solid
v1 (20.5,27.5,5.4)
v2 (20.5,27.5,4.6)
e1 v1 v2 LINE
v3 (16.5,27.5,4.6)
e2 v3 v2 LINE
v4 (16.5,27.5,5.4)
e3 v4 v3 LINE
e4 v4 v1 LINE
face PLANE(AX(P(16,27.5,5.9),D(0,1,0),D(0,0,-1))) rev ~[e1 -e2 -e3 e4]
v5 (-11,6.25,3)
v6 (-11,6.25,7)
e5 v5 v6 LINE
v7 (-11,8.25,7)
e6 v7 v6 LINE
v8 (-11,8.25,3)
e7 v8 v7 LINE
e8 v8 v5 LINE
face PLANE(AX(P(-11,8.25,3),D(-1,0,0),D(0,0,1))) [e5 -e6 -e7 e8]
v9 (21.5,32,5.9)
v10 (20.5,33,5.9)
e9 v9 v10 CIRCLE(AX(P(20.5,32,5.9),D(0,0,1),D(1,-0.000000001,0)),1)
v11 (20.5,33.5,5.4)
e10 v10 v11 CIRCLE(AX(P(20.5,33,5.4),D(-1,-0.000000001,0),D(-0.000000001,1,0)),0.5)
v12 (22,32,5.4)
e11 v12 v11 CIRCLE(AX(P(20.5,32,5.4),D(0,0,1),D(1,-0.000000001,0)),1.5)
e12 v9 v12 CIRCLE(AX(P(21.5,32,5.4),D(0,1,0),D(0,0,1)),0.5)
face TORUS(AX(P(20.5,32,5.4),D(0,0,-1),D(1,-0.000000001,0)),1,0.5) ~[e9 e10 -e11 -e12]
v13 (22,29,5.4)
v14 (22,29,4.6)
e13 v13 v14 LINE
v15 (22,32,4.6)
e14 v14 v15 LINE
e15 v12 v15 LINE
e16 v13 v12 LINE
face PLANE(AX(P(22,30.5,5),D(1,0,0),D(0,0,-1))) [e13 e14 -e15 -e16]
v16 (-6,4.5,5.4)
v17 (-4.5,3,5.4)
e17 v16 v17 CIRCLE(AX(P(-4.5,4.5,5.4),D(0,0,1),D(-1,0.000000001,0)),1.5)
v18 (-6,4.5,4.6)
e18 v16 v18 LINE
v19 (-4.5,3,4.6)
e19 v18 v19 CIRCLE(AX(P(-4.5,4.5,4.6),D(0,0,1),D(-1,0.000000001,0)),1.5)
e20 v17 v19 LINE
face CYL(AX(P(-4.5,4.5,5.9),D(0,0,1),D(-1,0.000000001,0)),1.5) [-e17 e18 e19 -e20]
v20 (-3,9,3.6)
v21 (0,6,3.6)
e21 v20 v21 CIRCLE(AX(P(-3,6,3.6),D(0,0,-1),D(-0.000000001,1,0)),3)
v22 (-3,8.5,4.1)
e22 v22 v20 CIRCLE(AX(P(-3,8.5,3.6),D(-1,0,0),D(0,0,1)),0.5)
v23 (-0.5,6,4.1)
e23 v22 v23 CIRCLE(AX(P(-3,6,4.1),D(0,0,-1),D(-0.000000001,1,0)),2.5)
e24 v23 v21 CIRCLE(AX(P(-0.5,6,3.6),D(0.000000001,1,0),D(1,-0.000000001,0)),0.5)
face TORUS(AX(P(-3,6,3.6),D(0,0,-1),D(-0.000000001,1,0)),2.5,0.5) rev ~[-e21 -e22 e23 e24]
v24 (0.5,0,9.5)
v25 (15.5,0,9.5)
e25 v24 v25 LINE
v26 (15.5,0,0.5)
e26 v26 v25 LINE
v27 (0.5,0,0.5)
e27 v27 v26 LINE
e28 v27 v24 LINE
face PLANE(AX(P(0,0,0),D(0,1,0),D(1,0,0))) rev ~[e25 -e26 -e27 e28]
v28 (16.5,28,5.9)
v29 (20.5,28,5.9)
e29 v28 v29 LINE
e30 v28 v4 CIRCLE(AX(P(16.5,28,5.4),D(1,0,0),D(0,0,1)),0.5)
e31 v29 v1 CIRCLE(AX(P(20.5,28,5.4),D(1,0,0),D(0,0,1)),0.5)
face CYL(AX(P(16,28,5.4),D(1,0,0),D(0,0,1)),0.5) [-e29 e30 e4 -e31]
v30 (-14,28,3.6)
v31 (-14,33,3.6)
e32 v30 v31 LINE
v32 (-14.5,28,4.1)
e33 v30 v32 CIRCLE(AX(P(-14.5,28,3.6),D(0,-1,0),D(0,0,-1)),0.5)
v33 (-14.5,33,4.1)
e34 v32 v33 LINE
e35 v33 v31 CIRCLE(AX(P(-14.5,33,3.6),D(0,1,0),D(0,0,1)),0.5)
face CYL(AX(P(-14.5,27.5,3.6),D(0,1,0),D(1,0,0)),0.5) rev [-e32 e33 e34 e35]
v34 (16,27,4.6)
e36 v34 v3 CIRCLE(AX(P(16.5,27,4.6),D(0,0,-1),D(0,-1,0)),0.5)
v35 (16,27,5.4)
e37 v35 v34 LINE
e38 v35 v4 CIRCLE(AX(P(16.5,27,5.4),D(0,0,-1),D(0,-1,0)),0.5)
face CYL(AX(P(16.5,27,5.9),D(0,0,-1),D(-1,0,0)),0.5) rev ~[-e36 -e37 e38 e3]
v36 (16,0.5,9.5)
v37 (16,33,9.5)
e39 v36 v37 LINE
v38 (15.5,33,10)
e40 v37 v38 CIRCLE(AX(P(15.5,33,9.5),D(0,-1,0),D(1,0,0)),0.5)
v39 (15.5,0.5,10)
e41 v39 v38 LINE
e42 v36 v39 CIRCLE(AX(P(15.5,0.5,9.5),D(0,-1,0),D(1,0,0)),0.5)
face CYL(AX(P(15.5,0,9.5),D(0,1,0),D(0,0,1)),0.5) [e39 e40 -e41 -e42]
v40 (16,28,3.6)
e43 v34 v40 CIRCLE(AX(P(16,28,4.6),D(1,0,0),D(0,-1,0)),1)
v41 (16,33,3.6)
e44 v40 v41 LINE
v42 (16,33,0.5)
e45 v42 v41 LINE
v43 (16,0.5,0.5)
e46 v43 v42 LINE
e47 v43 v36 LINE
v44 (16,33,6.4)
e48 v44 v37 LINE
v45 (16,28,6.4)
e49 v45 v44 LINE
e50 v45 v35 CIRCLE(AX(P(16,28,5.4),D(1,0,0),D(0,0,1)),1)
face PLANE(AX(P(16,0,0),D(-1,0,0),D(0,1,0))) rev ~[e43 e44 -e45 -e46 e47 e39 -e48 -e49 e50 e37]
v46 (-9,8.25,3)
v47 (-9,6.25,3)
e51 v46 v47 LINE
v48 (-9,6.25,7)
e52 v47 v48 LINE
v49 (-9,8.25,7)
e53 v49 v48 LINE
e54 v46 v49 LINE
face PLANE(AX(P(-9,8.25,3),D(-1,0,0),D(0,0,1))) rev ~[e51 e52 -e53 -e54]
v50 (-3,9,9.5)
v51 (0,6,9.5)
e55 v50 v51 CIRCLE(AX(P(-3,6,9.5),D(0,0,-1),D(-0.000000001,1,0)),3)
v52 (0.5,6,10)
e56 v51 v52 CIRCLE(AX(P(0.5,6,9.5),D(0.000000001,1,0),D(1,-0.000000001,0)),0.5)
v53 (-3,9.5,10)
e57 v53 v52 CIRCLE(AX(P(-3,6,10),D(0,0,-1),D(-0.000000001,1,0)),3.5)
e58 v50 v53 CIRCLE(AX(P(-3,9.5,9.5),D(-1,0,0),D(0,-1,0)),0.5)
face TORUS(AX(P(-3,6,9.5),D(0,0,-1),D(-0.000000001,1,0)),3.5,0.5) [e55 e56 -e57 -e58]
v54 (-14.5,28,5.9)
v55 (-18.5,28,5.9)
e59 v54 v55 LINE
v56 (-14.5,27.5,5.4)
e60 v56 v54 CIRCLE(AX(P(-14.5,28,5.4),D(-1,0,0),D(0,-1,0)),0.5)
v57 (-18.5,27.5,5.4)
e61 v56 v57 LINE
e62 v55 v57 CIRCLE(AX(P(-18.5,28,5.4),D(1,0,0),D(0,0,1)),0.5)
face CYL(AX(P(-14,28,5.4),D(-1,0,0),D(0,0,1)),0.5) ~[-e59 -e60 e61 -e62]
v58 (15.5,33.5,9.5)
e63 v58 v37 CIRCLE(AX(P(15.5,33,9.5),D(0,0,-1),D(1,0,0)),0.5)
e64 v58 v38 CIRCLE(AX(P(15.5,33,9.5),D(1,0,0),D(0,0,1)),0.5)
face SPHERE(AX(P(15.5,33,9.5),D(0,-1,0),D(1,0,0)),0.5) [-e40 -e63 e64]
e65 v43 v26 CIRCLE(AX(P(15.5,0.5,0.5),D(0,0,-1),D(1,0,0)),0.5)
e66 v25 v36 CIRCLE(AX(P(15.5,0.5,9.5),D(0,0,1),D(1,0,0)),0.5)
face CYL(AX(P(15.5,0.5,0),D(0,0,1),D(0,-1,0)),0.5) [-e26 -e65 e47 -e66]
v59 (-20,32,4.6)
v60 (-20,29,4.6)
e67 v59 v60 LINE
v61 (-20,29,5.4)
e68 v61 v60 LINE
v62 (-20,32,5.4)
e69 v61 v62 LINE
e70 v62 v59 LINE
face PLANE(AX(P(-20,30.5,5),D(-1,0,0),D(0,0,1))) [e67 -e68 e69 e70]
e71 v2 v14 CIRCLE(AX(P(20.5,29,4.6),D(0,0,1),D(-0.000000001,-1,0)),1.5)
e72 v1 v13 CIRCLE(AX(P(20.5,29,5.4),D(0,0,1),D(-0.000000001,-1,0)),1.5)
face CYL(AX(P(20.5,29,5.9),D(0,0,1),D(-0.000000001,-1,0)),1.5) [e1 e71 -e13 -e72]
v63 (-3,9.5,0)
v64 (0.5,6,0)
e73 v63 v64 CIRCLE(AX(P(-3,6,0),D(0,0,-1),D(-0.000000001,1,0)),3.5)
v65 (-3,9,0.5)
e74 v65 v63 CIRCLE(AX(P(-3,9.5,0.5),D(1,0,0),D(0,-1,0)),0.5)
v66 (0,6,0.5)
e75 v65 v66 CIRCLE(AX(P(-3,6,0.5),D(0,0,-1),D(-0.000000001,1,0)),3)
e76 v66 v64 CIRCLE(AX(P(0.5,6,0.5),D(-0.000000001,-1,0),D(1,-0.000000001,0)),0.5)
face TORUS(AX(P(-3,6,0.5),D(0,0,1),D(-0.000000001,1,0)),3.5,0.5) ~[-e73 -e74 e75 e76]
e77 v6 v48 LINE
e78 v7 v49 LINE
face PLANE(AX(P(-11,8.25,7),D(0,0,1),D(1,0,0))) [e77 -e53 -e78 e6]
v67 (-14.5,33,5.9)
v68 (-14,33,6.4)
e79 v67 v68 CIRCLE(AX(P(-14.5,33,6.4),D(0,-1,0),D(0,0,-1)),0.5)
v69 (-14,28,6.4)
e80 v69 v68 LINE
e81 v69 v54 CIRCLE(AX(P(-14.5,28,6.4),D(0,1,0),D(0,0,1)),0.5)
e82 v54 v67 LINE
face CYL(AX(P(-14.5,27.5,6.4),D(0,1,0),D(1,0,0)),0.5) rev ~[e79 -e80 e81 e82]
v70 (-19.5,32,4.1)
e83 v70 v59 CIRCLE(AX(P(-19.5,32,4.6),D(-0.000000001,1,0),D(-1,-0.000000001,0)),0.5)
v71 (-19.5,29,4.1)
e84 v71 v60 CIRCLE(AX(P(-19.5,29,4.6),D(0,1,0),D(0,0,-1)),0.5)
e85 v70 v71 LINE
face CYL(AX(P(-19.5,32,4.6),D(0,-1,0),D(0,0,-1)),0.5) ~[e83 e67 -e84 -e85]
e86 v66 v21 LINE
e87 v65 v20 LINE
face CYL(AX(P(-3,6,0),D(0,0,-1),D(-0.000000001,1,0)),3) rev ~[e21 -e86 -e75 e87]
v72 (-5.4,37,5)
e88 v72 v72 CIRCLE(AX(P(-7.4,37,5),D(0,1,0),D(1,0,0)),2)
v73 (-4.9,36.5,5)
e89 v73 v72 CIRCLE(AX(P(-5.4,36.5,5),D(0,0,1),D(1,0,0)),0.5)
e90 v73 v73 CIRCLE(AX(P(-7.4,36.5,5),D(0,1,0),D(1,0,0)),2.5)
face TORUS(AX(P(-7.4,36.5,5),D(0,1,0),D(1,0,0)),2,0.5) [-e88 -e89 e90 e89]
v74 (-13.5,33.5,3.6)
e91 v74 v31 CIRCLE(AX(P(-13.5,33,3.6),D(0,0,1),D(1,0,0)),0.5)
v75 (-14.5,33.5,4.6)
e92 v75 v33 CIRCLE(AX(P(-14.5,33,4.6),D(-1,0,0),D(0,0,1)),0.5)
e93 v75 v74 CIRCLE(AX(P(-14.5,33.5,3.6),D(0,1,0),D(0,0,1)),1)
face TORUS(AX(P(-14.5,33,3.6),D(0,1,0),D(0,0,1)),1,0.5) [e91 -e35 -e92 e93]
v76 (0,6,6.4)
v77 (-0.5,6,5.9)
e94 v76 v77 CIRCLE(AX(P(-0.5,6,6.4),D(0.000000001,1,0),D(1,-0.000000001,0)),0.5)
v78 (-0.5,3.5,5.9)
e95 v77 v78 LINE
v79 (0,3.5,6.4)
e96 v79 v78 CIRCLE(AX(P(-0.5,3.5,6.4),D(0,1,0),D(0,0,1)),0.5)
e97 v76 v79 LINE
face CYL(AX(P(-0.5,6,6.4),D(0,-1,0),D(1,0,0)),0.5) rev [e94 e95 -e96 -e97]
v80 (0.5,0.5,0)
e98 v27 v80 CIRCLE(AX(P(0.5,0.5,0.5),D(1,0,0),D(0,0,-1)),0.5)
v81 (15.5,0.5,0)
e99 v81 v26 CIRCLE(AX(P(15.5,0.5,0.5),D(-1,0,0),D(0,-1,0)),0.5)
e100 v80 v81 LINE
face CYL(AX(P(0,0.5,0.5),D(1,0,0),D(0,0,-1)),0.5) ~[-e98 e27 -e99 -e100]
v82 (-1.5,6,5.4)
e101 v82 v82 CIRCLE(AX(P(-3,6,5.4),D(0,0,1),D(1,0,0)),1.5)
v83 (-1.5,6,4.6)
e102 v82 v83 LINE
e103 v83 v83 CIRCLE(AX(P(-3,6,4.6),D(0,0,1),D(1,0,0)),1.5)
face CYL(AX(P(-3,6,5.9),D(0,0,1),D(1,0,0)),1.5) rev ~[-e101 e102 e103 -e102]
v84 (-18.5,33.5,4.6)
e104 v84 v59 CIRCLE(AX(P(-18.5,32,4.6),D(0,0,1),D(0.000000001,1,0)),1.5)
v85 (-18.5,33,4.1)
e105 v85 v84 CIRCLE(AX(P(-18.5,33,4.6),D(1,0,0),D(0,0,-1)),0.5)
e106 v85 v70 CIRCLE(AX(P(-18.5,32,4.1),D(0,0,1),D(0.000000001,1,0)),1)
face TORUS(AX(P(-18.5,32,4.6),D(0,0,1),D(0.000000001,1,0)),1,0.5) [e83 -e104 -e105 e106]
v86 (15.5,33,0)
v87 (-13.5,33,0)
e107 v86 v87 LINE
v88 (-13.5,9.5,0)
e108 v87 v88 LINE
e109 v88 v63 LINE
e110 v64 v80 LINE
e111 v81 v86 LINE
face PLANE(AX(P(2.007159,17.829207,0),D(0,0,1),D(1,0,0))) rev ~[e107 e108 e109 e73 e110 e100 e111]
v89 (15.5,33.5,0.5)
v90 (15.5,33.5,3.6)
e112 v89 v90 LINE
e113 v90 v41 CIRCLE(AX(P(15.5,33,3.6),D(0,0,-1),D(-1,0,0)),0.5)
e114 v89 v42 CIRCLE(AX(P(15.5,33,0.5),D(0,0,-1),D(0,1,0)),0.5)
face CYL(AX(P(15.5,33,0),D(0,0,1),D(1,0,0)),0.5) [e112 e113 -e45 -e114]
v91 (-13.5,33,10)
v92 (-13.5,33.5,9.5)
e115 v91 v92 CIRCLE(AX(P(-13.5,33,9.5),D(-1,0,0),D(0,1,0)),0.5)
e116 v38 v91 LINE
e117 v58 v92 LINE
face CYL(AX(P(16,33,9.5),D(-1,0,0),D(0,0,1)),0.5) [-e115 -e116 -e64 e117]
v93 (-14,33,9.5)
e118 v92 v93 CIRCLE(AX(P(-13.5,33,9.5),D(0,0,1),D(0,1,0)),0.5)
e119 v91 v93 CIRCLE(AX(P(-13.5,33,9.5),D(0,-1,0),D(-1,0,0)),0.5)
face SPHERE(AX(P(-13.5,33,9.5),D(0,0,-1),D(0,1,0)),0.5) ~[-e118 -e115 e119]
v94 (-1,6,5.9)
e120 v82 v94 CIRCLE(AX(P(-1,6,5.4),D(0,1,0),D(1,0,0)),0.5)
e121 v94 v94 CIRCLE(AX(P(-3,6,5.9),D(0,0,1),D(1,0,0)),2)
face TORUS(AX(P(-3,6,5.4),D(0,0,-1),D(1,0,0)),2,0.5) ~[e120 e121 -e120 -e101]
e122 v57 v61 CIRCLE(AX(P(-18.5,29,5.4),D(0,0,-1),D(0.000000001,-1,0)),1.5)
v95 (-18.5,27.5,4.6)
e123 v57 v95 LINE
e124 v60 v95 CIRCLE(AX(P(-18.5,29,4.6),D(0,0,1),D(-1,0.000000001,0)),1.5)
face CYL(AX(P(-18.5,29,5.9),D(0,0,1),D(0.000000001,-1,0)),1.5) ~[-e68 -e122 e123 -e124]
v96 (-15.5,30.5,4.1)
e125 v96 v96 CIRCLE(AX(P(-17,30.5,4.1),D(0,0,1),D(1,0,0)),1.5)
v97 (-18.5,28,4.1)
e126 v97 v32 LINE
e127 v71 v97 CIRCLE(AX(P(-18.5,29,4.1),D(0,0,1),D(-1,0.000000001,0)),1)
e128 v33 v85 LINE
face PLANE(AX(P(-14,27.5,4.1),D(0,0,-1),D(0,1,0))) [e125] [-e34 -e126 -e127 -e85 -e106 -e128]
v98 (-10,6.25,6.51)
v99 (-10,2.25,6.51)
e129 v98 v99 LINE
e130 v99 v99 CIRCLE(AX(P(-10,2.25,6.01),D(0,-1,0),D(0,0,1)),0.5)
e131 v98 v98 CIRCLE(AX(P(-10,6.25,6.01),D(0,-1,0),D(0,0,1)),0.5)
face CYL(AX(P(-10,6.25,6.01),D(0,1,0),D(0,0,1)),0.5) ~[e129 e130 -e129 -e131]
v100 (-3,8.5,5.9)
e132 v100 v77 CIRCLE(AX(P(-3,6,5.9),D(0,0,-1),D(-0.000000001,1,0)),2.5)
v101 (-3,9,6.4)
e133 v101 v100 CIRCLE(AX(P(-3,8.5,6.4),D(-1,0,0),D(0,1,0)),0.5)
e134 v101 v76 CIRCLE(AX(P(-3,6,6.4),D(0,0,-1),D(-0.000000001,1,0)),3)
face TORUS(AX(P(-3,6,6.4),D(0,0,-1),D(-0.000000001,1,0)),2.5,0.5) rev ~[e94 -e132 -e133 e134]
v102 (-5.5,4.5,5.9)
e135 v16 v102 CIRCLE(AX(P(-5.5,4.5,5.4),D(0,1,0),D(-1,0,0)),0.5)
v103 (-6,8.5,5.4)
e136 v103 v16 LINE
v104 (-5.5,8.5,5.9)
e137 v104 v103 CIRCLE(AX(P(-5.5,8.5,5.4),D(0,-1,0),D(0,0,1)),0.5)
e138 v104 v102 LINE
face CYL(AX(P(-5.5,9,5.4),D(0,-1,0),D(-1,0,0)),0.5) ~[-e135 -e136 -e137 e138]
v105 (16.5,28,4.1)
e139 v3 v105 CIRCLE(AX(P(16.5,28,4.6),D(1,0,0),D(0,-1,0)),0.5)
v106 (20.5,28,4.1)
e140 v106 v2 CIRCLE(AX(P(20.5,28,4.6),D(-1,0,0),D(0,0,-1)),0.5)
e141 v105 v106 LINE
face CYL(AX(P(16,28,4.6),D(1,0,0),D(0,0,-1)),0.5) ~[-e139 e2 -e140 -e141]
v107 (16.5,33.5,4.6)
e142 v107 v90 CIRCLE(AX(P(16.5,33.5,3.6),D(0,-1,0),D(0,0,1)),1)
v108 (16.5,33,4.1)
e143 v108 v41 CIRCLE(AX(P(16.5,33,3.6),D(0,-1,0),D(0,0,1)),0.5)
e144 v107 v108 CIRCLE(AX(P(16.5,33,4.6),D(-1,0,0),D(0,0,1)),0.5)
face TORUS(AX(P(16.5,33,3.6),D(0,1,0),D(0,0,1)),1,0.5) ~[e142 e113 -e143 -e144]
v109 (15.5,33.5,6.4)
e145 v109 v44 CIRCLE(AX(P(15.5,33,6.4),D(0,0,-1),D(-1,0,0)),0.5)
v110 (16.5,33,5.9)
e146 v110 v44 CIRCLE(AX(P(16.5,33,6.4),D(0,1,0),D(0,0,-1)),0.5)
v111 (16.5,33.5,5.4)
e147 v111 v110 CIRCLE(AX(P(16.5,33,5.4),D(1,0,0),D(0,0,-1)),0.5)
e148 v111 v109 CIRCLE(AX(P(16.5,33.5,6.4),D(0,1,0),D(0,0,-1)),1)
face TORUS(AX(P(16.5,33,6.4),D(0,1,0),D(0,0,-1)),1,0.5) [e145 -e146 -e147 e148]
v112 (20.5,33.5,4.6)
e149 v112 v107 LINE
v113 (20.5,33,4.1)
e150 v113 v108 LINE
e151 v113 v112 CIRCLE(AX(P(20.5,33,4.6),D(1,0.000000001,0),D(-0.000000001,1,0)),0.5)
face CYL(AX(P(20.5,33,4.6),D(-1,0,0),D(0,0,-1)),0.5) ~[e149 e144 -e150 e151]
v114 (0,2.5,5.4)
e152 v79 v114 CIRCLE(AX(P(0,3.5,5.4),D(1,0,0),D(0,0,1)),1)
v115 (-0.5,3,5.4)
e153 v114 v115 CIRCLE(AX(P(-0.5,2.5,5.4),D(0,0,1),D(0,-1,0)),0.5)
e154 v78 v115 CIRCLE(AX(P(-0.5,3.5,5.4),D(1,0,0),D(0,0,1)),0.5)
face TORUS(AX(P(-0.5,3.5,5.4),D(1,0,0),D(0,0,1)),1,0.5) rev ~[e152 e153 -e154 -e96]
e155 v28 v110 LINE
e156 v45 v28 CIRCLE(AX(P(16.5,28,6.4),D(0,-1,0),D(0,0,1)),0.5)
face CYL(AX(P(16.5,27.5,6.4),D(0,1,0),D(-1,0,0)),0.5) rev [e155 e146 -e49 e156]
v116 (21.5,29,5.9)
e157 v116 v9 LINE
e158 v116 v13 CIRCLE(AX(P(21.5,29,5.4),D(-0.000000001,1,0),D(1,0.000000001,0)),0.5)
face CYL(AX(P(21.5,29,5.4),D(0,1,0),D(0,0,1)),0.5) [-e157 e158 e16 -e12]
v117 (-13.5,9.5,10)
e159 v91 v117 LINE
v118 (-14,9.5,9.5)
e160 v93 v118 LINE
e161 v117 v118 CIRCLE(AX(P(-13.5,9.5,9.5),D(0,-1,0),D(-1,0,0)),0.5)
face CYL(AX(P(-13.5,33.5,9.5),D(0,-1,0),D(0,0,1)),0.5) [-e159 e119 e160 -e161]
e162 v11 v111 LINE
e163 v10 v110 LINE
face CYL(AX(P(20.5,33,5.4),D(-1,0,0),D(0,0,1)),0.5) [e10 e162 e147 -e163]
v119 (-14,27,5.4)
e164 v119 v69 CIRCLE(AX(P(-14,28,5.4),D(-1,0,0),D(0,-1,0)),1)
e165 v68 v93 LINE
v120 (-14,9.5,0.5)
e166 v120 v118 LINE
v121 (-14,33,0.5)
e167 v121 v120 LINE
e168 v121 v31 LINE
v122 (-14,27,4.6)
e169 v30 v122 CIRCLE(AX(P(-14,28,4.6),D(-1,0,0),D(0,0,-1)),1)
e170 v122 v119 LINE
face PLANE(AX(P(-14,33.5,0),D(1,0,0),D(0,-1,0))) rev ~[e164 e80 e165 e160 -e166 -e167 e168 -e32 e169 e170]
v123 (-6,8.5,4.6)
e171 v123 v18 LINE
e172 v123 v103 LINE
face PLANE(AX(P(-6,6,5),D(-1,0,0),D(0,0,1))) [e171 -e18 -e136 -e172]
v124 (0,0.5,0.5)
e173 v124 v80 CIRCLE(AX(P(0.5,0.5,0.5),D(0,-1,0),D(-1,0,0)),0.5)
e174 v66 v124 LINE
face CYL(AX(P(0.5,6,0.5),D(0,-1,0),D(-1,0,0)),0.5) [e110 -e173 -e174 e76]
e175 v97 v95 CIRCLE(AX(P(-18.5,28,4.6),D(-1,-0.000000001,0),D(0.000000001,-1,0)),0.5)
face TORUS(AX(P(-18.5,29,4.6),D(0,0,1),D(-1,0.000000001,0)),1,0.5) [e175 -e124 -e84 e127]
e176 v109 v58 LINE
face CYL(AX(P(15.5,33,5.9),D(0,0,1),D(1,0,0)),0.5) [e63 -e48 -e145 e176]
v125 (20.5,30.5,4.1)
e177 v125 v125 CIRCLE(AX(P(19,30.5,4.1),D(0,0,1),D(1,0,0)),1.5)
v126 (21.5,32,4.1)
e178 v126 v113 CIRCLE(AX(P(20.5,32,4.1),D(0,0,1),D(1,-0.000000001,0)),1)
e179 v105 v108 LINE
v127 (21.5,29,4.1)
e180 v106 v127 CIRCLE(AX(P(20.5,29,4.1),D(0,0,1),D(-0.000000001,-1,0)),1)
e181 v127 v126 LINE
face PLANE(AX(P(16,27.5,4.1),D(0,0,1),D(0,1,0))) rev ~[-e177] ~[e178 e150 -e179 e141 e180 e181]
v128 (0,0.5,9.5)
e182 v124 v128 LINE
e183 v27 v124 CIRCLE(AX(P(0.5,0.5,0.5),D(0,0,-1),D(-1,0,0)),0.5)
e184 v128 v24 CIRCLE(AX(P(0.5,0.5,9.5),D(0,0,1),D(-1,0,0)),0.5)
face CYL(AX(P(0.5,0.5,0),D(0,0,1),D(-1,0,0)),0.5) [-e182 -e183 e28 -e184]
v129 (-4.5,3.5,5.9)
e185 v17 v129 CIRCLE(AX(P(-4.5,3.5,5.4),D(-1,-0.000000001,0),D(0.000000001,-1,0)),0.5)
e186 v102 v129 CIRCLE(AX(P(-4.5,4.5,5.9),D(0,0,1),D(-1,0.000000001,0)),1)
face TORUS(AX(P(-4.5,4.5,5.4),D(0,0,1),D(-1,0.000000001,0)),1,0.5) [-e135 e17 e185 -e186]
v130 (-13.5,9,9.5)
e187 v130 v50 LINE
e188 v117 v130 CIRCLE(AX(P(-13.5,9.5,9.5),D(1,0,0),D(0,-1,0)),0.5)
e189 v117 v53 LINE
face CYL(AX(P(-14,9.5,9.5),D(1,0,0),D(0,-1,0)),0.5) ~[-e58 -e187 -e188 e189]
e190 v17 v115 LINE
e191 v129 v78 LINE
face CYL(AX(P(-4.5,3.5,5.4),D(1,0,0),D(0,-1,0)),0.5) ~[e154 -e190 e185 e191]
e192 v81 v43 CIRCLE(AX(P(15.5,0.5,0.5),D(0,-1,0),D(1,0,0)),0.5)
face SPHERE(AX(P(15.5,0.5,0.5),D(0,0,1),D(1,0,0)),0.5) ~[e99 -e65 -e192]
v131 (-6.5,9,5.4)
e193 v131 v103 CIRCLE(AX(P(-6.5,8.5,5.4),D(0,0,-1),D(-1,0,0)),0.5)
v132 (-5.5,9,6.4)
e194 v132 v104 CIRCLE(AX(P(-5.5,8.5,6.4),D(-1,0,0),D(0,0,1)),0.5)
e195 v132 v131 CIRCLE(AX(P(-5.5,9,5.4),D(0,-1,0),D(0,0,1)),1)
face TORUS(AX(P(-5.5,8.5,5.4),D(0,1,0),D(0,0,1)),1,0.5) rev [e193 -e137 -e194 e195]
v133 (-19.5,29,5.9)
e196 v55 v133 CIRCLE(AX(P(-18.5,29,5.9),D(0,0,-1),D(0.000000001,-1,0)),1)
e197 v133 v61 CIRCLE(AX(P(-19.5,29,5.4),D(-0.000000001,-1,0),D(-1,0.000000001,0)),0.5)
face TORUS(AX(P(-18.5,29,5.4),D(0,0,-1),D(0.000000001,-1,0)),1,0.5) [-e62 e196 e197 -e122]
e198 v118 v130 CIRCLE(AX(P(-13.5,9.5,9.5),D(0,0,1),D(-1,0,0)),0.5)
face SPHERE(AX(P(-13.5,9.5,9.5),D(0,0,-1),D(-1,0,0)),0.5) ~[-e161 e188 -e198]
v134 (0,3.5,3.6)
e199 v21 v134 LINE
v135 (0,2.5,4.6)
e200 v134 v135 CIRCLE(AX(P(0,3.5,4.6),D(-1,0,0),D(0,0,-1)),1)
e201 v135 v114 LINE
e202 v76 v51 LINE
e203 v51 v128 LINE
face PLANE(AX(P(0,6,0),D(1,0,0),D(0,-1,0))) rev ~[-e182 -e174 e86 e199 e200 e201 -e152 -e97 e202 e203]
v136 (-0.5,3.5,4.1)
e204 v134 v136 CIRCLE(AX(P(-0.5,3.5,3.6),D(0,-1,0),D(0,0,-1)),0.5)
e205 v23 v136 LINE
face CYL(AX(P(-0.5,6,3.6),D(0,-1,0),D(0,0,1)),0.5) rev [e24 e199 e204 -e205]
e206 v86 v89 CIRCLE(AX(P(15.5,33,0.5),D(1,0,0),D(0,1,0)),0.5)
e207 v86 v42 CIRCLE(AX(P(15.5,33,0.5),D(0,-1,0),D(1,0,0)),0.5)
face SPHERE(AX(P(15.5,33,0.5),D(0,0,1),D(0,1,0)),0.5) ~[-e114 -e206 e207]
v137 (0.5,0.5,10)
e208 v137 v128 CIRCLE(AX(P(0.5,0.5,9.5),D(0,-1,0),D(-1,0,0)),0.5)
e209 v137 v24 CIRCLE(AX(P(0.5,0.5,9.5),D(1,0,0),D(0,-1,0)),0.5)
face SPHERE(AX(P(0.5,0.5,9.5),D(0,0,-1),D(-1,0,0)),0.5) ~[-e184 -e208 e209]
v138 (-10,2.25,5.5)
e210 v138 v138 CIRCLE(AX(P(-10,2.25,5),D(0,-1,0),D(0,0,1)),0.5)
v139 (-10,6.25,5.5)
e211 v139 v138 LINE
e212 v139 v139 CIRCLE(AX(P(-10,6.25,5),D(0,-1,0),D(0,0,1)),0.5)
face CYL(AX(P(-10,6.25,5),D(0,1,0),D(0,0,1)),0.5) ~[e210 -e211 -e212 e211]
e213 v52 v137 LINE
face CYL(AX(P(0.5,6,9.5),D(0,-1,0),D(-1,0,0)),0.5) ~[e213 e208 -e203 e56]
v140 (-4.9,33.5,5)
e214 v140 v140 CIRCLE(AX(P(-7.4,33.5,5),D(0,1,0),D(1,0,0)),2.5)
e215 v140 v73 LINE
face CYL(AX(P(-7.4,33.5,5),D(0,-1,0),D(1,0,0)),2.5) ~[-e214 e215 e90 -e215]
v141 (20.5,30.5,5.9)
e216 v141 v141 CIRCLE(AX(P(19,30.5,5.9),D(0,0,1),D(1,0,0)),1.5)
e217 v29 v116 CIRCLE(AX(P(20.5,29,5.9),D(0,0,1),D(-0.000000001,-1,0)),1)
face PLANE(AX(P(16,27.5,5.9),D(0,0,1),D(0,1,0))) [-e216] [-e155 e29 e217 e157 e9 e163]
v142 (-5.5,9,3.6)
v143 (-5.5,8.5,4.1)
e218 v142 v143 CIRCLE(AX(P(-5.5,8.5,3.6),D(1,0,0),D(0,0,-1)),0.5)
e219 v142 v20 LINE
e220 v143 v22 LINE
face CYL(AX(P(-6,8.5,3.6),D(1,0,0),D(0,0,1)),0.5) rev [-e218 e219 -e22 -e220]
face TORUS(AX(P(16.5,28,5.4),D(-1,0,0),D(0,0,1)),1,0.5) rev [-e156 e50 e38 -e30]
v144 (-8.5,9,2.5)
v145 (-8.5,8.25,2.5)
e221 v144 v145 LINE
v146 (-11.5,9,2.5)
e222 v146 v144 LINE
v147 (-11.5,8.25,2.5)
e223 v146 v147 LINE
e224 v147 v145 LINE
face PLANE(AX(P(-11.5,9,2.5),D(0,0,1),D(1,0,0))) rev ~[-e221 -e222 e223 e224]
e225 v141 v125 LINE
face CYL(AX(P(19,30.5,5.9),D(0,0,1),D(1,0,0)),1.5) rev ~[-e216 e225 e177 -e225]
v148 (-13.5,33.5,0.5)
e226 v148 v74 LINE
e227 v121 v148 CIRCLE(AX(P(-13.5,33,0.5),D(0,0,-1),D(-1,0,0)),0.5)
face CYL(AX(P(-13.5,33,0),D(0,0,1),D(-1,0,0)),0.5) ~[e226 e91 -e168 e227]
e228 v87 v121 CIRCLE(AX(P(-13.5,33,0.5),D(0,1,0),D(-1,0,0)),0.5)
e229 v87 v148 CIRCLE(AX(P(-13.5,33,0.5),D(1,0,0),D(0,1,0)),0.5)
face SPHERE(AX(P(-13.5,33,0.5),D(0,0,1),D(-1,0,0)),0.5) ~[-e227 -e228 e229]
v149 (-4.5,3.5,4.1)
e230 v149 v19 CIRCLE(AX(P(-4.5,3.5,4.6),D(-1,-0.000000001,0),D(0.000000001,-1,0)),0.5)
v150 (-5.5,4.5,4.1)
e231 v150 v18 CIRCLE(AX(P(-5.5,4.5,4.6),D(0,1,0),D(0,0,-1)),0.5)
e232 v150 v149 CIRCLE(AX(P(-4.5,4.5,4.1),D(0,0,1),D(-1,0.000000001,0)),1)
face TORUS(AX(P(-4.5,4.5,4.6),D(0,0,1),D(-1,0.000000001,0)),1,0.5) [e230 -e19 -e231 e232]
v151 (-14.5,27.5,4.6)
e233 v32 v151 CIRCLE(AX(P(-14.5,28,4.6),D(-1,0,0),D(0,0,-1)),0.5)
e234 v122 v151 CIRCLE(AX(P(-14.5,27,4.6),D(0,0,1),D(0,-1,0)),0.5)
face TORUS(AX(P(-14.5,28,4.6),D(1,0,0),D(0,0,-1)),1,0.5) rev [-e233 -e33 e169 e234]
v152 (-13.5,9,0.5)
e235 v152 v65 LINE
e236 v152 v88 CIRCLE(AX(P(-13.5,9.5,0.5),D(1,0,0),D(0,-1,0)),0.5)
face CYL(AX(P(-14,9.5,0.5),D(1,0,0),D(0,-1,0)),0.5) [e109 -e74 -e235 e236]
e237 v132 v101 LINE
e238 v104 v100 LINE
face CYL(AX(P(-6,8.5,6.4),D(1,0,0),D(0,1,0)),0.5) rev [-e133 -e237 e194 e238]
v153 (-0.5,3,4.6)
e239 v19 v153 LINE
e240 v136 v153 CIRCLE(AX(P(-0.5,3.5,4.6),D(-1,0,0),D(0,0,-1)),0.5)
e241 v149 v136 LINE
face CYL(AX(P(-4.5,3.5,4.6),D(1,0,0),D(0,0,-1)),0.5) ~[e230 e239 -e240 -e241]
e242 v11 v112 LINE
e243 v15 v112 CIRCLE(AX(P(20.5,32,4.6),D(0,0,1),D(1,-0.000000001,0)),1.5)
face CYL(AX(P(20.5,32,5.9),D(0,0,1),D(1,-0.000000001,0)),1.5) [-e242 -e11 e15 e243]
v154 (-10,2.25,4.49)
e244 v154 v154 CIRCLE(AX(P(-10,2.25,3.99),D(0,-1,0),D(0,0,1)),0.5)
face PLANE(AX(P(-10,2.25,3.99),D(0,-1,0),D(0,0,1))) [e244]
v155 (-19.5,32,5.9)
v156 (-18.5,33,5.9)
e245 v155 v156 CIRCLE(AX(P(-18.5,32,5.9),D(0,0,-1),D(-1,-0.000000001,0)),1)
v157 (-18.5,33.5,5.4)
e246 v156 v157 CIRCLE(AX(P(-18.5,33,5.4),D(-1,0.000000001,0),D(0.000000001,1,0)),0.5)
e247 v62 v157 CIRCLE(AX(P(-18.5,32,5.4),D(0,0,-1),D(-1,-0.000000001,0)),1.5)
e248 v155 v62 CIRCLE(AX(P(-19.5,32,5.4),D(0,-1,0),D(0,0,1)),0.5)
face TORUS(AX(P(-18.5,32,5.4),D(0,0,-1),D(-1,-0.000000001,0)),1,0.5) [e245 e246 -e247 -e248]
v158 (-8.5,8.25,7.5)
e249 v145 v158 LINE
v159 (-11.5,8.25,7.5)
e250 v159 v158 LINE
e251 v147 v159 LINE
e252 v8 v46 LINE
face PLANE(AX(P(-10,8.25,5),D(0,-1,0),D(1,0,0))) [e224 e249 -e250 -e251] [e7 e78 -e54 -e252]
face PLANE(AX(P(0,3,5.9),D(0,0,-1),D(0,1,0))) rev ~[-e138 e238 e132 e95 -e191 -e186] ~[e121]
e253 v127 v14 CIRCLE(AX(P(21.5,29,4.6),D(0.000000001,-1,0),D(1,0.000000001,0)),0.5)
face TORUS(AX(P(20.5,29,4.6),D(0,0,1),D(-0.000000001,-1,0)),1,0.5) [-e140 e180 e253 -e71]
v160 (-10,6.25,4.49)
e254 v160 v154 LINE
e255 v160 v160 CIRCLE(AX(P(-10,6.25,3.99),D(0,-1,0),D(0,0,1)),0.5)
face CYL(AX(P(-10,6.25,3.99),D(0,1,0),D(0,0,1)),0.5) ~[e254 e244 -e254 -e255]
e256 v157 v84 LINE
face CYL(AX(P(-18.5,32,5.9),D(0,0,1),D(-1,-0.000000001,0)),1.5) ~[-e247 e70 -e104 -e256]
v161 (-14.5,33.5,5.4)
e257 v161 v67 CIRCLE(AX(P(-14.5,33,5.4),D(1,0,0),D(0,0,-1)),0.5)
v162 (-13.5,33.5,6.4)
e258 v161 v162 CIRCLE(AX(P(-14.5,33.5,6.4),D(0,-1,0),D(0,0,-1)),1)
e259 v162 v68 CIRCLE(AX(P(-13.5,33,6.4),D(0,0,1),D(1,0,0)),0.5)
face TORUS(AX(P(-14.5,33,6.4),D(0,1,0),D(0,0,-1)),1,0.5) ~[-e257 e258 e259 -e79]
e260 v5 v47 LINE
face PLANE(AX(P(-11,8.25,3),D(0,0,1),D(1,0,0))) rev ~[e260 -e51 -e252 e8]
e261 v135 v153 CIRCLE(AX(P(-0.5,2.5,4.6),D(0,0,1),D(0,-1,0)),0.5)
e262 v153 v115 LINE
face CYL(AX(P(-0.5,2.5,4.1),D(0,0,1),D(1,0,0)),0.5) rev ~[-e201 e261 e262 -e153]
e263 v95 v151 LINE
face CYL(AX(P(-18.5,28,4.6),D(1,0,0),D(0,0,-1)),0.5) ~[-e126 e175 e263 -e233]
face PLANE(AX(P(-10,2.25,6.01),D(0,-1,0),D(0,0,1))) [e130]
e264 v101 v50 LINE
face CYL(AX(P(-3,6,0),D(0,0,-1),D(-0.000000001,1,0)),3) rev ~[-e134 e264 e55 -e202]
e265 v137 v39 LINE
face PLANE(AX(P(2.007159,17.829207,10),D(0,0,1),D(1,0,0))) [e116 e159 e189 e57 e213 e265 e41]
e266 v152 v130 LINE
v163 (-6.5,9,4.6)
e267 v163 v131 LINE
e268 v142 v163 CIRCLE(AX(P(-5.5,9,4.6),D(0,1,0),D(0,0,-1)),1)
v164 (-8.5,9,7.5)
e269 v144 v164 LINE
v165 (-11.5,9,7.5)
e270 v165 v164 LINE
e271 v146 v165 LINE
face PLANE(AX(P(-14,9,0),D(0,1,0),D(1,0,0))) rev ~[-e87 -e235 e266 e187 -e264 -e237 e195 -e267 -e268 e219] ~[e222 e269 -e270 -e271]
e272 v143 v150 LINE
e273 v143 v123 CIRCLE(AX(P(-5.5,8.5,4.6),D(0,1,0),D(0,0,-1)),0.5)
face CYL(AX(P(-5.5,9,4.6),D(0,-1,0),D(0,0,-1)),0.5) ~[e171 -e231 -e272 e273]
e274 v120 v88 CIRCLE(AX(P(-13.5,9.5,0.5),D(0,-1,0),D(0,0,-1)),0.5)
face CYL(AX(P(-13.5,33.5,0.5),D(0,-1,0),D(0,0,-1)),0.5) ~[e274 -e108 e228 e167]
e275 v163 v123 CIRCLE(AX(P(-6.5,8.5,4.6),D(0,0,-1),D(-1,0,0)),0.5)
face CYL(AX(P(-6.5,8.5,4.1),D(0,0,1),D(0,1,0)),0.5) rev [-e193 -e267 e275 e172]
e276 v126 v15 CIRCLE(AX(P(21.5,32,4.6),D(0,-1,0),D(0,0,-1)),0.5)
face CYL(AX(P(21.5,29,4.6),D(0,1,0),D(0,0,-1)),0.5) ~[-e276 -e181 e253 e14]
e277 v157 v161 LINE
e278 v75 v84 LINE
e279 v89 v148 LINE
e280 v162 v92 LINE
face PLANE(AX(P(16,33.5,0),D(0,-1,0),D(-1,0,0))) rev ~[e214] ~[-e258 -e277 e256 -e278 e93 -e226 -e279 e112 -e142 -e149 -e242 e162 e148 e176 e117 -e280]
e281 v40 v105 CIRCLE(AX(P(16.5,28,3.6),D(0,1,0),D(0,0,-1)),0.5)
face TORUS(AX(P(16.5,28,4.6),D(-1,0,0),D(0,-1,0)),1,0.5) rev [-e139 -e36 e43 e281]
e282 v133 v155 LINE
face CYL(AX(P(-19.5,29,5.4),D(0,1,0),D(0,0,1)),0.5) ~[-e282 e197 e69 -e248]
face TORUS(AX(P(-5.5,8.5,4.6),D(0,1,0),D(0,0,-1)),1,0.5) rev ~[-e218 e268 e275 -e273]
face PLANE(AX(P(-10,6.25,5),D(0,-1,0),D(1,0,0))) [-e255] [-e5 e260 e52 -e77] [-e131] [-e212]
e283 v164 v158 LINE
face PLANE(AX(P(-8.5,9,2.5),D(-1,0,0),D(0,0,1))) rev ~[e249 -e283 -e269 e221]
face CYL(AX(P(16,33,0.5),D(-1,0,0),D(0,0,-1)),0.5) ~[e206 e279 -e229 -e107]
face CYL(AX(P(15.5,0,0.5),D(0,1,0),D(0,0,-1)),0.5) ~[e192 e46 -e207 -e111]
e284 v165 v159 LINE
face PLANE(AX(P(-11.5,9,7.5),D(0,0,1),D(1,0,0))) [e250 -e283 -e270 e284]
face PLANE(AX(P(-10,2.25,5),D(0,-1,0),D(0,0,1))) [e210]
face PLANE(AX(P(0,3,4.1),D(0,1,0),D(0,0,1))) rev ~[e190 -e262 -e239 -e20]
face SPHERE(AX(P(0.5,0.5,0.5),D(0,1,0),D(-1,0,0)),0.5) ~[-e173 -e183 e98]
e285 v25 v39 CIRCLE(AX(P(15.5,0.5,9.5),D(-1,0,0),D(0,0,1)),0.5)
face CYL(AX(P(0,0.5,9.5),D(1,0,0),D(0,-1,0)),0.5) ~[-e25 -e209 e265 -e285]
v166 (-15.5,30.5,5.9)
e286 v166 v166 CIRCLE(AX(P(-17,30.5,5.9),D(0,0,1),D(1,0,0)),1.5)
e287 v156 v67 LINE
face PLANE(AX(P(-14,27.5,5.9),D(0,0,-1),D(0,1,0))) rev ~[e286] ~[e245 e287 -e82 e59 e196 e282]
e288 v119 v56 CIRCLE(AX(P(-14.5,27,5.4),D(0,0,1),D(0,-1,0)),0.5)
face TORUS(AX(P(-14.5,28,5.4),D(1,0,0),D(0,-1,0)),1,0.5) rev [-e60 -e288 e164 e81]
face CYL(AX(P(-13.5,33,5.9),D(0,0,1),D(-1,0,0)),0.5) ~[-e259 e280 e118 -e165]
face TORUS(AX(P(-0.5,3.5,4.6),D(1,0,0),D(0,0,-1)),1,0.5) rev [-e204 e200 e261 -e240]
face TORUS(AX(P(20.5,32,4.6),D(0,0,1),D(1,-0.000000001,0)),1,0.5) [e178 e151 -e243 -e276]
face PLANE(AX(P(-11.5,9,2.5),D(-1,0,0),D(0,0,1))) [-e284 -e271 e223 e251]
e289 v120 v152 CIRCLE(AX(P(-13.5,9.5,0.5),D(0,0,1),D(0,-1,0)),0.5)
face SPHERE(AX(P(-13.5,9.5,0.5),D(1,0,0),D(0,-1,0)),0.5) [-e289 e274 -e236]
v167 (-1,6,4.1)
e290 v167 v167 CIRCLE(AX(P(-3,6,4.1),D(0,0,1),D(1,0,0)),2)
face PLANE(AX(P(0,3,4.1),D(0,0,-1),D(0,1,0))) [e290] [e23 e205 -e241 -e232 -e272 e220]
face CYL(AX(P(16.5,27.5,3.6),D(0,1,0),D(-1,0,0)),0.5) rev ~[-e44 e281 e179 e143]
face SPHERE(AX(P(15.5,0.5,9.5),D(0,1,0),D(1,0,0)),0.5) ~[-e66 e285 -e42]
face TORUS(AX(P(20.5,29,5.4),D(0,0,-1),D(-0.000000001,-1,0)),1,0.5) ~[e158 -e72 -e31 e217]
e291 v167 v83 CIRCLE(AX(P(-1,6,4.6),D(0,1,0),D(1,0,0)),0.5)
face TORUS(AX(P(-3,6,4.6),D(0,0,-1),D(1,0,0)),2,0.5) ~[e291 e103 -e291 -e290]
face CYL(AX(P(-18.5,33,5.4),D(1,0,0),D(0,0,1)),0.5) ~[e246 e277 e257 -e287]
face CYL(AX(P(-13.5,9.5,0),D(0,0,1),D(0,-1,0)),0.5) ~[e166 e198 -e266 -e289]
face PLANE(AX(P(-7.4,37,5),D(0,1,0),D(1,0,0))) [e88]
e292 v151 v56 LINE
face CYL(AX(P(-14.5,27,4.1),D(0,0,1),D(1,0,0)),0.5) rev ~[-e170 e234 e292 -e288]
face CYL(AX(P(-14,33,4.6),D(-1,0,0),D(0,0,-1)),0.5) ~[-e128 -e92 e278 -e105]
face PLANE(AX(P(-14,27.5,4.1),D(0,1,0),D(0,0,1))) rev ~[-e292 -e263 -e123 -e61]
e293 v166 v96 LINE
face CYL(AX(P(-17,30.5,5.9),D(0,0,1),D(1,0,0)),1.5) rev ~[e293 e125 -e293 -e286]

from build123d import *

# Parameters (mm, degrees)
BOSS_EXTRUDE1_DEPTH = 10
SKETCH2_W           = 1.8
SKETCH2_H           = 6
BOSS_EXTRUDE2_DEPTH = 6
SKETCH3_W           = 1.8
SKETCH3_H           = 6
BOSS_EXTRUDE3_DEPTH = 6
SKETCH4_W           = 1.8
SKETCH4_H           = 6
BOSS_EXTRUDE4_DEPTH = 6
SKETCH5_R           = 1.5
CUT_EXTRUDE2_DEPTH  = 6
FILLET1_R           = 0.5
SKETCH6_R           = 2.5
BOSS_EXTRUDE5_DEPTH = 3.5
FILLET2_R           = 0.5
SKETCH7_W           = 3
SKETCH7_H           = 5
BOSS_EXTRUDE6_DEPTH = 0.75
SKETCH9_W           = 2
SKETCH9_H           = 4
BOSS_EXTRUDE7_DEPTH = 2
SKETCH11_R          = 0.5
BOSS_EXTRUDE8_DEPTH = 4


with BuildPart() as part:
    # Sketch1 → Boss-Extrude1 (new body)
    with BuildSketch(Plane.XY):
        with BuildLine():
            Line((0, 0), (16, 0))
            Line((16, 0), (16, 33.5))
            Line((16, 33.5), (-14, 33.5))
            Line((-14, 33.5), (-14, 9))
            Line((-14, 9), (-3, 9))
            ThreePointArc((-3, 9), (-0.878679656, 8.121320344), (0, 6))
            Line((0, 6), (0, 0))
        make_face()
    extrude(amount=BOSS_EXTRUDE1_DEPTH)

    # Sketch2 → Boss-Extrude2 (add)
    with BuildSketch(Plane.ZY.offset(14)):
        with Locations((5, 30.5)):
            Rectangle(SKETCH2_W, SKETCH2_H)
    extrude(amount=BOSS_EXTRUDE2_DEPTH)

    # Sketch3 → Boss-Extrude3 (add)
    with BuildSketch(Plane(origin=(16, 0, 0), x_dir=(0, 0, -1), z_dir=(1, 0, 0))):
        with Locations((-5, 30.5)):
            Rectangle(SKETCH3_W, SKETCH3_H)
    extrude(amount=BOSS_EXTRUDE3_DEPTH)

    # Sketch4 → Boss-Extrude4 (add)
    with BuildSketch(Plane.ZY):
        with Locations((5, 6)):
            Rectangle(SKETCH4_W, SKETCH4_H)
    extrude(amount=BOSS_EXTRUDE4_DEPTH)

    # Sketch5 → Cut-Extrude2 (cut)
    with BuildSketch(Plane.XY.offset(5.9)):
        with BuildLine():
            ThreePointArc((-6, 4.5), (-5.560660172, 3.439339828), (-4.5, 3))
            Line((-4.5, 3), (-6, 3))
            Line((-6, 3), (-6, 4.5))
        make_face()
        with Locations((-3, 6)):
            Circle(SKETCH5_R)
        with BuildLine():
            ThreePointArc((-18.5, 27.5), (-19.560660172, 27.939339828), (-20, 29))
            Line((-20, 29), (-20, 27.5))
            Line((-20, 27.5), (-18.5, 27.5))
        make_face()
        with BuildLine():
            Line((-20, 33.5), (-20, 32))
            ThreePointArc((-20, 32), (-19.560660172, 33.060660172), (-18.5, 33.5))
            Line((-18.5, 33.5), (-20, 33.5))
        make_face()
        with Locations((-17, 30.5)):
            Circle(SKETCH5_R)
        with Locations((19, 30.5)):
            Circle(SKETCH5_R)
        with BuildLine():
            Line((20.5, 33.5), (22, 33.5))
            Line((22, 33.5), (22, 32))
            ThreePointArc((22, 32), (21.560660172, 33.060660172), (20.5, 33.5))
        make_face()
        with BuildLine():
            ThreePointArc((20.5, 27.5), (21.560660172, 27.939339828), (22, 29))
            Line((22, 29), (22, 27.5))
            Line((22, 27.5), (20.5, 27.5))
        make_face()
    extrude(amount=-CUT_EXTRUDE2_DEPTH, mode=Mode.SUBTRACT)

    # Fillet1
    fillet1_edges = [part.edges().sort_by_distance(p)[0] for p in [
        (21.560660172, 27.939339828, 5.9),
        (21.560660172, 27.939339828, 4.1),
        (0, 3, 0),
        (-4.5, 6, 4.1),
        (-4.5, 6, 5.9),
        (-19.560660172, 27.939339828, 5.9),
        (-19.560660172, 27.939339828, 4.1),
        (-19.560660172, 33.060660172, 4.1),
        (-19.560660172, 33.060660172, 5.9),
        (-5.560660172, 3.439339828, 5.9),
        (-5.560660172, 3.439339828, 4.1),
        (-14, 9, 5),
        (16, 16.75, 10),
        (-14, 33.5, 7.95),
        (16, 33.5, 7.95),
        (16, 0, 5),
        (0, 0, 5),
        (1, 33.5, 10),
        (-14, 21.25, 10),
        (-14, 33.5, 2.05),
        (-14, 30.5, 4.1),
        (-8.5, 9, 10),
        (-14, 27.5, 5),
        (-14, 30.5, 5.9),
        (-0.878679656, 8.121320344, 10),
        (16, 33.5, 2.05),
        (16, 30.5, 5.9),
        (16, 27.5, 5),
        (16, 30.5, 4.1),
        (-0.878679656, 8.121320344, 5.9),
        (0, 3, 10),
        (-0.878679656, 8.121320344, 4.1),
        (-4.5, 9, 4.1),
        (0, 4.5, 4.1),
        (0, 4.5, 5.9),
        (0, 3, 5),
        (-4.5, 9, 5.9),
        (-6, 6.75, 4.1),
        (-6, 9, 5),
        (-6, 6.75, 5.9),
        (-2.25, 3, 5.9),
        (-2.25, 3, 4.1),
        (22, 30.5, 5.9),
        (22, 30.5, 4.1),
        (18.25, 33.5, 4.1),
        (18.25, 27.5, 4.1),
        (-0.878679656, 8.121320344, 0),
        (18.25, 27.5, 5.9),
        (18.25, 33.5, 5.9),
        (-8.5, 9, 0),
        (-20, 30.5, 4.1),
        (-20, 30.5, 5.9),
        (-16.25, 33.5, 5.9),
        (-16.25, 27.5, 5.9),
        (-14, 21.25, 0),
        (-16.25, 27.5, 4.1),
        (-16.25, 33.5, 4.1),
        (1, 33.5, 0),
        (8, 0, 10),
        (21.560660172, 33.060660172, 4.1),
        (16, 16.75, 0),
        (21.560660172, 33.060660172, 5.9),
        (8, 0, 0),
    ]]
    fillet(fillet1_edges, radius=FILLET1_R)

    # Sketch6 → Boss-Extrude5 (add)
    with BuildSketch(Plane(origin=(0, 33.5, 0), x_dir=(1, 0, 0), z_dir=(0, 1, 0))):
        with Locations((-7.4, -5)):
            Circle(SKETCH6_R)
    extrude(amount=BOSS_EXTRUDE5_DEPTH)

    # Fillet2
    fillet2_edges = [part.edges().sort_by_distance(p)[0] for p in [
        (-9.9, 37, 5),
    ]]
    fillet(fillet2_edges, radius=FILLET2_R)

    # Sketch7 → Boss-Extrude6 (add)
    with BuildSketch(Plane.XZ.offset(-9)):
        with Locations((-10, 5)):
            Rectangle(SKETCH7_W, SKETCH7_H)
    extrude(amount=BOSS_EXTRUDE6_DEPTH)

    # Sketch9 → Boss-Extrude7 (add)
    with BuildSketch(Plane.XZ.offset(-8.25)):
        with Locations((-10, 5)):
            Rectangle(SKETCH9_W, SKETCH9_H)
    extrude(amount=BOSS_EXTRUDE7_DEPTH)

    # Sketch11 → Boss-Extrude8 (add)
    with BuildSketch(Plane.XZ.offset(-6.25)):
        with Locations(Location((-10, 6.01, 0), (0, 0, 90))):
            Circle(SKETCH11_R)
        with Locations(Location((-10, 5, 0), (0, 0, 90))):
            Circle(SKETCH11_R)
        with Locations(Location((-10, 3.99, 0), (0, 0, 90))):
            Circle(SKETCH11_R)
    extrude(amount=BOSS_EXTRUDE8_DEPTH)


solid = part.part
